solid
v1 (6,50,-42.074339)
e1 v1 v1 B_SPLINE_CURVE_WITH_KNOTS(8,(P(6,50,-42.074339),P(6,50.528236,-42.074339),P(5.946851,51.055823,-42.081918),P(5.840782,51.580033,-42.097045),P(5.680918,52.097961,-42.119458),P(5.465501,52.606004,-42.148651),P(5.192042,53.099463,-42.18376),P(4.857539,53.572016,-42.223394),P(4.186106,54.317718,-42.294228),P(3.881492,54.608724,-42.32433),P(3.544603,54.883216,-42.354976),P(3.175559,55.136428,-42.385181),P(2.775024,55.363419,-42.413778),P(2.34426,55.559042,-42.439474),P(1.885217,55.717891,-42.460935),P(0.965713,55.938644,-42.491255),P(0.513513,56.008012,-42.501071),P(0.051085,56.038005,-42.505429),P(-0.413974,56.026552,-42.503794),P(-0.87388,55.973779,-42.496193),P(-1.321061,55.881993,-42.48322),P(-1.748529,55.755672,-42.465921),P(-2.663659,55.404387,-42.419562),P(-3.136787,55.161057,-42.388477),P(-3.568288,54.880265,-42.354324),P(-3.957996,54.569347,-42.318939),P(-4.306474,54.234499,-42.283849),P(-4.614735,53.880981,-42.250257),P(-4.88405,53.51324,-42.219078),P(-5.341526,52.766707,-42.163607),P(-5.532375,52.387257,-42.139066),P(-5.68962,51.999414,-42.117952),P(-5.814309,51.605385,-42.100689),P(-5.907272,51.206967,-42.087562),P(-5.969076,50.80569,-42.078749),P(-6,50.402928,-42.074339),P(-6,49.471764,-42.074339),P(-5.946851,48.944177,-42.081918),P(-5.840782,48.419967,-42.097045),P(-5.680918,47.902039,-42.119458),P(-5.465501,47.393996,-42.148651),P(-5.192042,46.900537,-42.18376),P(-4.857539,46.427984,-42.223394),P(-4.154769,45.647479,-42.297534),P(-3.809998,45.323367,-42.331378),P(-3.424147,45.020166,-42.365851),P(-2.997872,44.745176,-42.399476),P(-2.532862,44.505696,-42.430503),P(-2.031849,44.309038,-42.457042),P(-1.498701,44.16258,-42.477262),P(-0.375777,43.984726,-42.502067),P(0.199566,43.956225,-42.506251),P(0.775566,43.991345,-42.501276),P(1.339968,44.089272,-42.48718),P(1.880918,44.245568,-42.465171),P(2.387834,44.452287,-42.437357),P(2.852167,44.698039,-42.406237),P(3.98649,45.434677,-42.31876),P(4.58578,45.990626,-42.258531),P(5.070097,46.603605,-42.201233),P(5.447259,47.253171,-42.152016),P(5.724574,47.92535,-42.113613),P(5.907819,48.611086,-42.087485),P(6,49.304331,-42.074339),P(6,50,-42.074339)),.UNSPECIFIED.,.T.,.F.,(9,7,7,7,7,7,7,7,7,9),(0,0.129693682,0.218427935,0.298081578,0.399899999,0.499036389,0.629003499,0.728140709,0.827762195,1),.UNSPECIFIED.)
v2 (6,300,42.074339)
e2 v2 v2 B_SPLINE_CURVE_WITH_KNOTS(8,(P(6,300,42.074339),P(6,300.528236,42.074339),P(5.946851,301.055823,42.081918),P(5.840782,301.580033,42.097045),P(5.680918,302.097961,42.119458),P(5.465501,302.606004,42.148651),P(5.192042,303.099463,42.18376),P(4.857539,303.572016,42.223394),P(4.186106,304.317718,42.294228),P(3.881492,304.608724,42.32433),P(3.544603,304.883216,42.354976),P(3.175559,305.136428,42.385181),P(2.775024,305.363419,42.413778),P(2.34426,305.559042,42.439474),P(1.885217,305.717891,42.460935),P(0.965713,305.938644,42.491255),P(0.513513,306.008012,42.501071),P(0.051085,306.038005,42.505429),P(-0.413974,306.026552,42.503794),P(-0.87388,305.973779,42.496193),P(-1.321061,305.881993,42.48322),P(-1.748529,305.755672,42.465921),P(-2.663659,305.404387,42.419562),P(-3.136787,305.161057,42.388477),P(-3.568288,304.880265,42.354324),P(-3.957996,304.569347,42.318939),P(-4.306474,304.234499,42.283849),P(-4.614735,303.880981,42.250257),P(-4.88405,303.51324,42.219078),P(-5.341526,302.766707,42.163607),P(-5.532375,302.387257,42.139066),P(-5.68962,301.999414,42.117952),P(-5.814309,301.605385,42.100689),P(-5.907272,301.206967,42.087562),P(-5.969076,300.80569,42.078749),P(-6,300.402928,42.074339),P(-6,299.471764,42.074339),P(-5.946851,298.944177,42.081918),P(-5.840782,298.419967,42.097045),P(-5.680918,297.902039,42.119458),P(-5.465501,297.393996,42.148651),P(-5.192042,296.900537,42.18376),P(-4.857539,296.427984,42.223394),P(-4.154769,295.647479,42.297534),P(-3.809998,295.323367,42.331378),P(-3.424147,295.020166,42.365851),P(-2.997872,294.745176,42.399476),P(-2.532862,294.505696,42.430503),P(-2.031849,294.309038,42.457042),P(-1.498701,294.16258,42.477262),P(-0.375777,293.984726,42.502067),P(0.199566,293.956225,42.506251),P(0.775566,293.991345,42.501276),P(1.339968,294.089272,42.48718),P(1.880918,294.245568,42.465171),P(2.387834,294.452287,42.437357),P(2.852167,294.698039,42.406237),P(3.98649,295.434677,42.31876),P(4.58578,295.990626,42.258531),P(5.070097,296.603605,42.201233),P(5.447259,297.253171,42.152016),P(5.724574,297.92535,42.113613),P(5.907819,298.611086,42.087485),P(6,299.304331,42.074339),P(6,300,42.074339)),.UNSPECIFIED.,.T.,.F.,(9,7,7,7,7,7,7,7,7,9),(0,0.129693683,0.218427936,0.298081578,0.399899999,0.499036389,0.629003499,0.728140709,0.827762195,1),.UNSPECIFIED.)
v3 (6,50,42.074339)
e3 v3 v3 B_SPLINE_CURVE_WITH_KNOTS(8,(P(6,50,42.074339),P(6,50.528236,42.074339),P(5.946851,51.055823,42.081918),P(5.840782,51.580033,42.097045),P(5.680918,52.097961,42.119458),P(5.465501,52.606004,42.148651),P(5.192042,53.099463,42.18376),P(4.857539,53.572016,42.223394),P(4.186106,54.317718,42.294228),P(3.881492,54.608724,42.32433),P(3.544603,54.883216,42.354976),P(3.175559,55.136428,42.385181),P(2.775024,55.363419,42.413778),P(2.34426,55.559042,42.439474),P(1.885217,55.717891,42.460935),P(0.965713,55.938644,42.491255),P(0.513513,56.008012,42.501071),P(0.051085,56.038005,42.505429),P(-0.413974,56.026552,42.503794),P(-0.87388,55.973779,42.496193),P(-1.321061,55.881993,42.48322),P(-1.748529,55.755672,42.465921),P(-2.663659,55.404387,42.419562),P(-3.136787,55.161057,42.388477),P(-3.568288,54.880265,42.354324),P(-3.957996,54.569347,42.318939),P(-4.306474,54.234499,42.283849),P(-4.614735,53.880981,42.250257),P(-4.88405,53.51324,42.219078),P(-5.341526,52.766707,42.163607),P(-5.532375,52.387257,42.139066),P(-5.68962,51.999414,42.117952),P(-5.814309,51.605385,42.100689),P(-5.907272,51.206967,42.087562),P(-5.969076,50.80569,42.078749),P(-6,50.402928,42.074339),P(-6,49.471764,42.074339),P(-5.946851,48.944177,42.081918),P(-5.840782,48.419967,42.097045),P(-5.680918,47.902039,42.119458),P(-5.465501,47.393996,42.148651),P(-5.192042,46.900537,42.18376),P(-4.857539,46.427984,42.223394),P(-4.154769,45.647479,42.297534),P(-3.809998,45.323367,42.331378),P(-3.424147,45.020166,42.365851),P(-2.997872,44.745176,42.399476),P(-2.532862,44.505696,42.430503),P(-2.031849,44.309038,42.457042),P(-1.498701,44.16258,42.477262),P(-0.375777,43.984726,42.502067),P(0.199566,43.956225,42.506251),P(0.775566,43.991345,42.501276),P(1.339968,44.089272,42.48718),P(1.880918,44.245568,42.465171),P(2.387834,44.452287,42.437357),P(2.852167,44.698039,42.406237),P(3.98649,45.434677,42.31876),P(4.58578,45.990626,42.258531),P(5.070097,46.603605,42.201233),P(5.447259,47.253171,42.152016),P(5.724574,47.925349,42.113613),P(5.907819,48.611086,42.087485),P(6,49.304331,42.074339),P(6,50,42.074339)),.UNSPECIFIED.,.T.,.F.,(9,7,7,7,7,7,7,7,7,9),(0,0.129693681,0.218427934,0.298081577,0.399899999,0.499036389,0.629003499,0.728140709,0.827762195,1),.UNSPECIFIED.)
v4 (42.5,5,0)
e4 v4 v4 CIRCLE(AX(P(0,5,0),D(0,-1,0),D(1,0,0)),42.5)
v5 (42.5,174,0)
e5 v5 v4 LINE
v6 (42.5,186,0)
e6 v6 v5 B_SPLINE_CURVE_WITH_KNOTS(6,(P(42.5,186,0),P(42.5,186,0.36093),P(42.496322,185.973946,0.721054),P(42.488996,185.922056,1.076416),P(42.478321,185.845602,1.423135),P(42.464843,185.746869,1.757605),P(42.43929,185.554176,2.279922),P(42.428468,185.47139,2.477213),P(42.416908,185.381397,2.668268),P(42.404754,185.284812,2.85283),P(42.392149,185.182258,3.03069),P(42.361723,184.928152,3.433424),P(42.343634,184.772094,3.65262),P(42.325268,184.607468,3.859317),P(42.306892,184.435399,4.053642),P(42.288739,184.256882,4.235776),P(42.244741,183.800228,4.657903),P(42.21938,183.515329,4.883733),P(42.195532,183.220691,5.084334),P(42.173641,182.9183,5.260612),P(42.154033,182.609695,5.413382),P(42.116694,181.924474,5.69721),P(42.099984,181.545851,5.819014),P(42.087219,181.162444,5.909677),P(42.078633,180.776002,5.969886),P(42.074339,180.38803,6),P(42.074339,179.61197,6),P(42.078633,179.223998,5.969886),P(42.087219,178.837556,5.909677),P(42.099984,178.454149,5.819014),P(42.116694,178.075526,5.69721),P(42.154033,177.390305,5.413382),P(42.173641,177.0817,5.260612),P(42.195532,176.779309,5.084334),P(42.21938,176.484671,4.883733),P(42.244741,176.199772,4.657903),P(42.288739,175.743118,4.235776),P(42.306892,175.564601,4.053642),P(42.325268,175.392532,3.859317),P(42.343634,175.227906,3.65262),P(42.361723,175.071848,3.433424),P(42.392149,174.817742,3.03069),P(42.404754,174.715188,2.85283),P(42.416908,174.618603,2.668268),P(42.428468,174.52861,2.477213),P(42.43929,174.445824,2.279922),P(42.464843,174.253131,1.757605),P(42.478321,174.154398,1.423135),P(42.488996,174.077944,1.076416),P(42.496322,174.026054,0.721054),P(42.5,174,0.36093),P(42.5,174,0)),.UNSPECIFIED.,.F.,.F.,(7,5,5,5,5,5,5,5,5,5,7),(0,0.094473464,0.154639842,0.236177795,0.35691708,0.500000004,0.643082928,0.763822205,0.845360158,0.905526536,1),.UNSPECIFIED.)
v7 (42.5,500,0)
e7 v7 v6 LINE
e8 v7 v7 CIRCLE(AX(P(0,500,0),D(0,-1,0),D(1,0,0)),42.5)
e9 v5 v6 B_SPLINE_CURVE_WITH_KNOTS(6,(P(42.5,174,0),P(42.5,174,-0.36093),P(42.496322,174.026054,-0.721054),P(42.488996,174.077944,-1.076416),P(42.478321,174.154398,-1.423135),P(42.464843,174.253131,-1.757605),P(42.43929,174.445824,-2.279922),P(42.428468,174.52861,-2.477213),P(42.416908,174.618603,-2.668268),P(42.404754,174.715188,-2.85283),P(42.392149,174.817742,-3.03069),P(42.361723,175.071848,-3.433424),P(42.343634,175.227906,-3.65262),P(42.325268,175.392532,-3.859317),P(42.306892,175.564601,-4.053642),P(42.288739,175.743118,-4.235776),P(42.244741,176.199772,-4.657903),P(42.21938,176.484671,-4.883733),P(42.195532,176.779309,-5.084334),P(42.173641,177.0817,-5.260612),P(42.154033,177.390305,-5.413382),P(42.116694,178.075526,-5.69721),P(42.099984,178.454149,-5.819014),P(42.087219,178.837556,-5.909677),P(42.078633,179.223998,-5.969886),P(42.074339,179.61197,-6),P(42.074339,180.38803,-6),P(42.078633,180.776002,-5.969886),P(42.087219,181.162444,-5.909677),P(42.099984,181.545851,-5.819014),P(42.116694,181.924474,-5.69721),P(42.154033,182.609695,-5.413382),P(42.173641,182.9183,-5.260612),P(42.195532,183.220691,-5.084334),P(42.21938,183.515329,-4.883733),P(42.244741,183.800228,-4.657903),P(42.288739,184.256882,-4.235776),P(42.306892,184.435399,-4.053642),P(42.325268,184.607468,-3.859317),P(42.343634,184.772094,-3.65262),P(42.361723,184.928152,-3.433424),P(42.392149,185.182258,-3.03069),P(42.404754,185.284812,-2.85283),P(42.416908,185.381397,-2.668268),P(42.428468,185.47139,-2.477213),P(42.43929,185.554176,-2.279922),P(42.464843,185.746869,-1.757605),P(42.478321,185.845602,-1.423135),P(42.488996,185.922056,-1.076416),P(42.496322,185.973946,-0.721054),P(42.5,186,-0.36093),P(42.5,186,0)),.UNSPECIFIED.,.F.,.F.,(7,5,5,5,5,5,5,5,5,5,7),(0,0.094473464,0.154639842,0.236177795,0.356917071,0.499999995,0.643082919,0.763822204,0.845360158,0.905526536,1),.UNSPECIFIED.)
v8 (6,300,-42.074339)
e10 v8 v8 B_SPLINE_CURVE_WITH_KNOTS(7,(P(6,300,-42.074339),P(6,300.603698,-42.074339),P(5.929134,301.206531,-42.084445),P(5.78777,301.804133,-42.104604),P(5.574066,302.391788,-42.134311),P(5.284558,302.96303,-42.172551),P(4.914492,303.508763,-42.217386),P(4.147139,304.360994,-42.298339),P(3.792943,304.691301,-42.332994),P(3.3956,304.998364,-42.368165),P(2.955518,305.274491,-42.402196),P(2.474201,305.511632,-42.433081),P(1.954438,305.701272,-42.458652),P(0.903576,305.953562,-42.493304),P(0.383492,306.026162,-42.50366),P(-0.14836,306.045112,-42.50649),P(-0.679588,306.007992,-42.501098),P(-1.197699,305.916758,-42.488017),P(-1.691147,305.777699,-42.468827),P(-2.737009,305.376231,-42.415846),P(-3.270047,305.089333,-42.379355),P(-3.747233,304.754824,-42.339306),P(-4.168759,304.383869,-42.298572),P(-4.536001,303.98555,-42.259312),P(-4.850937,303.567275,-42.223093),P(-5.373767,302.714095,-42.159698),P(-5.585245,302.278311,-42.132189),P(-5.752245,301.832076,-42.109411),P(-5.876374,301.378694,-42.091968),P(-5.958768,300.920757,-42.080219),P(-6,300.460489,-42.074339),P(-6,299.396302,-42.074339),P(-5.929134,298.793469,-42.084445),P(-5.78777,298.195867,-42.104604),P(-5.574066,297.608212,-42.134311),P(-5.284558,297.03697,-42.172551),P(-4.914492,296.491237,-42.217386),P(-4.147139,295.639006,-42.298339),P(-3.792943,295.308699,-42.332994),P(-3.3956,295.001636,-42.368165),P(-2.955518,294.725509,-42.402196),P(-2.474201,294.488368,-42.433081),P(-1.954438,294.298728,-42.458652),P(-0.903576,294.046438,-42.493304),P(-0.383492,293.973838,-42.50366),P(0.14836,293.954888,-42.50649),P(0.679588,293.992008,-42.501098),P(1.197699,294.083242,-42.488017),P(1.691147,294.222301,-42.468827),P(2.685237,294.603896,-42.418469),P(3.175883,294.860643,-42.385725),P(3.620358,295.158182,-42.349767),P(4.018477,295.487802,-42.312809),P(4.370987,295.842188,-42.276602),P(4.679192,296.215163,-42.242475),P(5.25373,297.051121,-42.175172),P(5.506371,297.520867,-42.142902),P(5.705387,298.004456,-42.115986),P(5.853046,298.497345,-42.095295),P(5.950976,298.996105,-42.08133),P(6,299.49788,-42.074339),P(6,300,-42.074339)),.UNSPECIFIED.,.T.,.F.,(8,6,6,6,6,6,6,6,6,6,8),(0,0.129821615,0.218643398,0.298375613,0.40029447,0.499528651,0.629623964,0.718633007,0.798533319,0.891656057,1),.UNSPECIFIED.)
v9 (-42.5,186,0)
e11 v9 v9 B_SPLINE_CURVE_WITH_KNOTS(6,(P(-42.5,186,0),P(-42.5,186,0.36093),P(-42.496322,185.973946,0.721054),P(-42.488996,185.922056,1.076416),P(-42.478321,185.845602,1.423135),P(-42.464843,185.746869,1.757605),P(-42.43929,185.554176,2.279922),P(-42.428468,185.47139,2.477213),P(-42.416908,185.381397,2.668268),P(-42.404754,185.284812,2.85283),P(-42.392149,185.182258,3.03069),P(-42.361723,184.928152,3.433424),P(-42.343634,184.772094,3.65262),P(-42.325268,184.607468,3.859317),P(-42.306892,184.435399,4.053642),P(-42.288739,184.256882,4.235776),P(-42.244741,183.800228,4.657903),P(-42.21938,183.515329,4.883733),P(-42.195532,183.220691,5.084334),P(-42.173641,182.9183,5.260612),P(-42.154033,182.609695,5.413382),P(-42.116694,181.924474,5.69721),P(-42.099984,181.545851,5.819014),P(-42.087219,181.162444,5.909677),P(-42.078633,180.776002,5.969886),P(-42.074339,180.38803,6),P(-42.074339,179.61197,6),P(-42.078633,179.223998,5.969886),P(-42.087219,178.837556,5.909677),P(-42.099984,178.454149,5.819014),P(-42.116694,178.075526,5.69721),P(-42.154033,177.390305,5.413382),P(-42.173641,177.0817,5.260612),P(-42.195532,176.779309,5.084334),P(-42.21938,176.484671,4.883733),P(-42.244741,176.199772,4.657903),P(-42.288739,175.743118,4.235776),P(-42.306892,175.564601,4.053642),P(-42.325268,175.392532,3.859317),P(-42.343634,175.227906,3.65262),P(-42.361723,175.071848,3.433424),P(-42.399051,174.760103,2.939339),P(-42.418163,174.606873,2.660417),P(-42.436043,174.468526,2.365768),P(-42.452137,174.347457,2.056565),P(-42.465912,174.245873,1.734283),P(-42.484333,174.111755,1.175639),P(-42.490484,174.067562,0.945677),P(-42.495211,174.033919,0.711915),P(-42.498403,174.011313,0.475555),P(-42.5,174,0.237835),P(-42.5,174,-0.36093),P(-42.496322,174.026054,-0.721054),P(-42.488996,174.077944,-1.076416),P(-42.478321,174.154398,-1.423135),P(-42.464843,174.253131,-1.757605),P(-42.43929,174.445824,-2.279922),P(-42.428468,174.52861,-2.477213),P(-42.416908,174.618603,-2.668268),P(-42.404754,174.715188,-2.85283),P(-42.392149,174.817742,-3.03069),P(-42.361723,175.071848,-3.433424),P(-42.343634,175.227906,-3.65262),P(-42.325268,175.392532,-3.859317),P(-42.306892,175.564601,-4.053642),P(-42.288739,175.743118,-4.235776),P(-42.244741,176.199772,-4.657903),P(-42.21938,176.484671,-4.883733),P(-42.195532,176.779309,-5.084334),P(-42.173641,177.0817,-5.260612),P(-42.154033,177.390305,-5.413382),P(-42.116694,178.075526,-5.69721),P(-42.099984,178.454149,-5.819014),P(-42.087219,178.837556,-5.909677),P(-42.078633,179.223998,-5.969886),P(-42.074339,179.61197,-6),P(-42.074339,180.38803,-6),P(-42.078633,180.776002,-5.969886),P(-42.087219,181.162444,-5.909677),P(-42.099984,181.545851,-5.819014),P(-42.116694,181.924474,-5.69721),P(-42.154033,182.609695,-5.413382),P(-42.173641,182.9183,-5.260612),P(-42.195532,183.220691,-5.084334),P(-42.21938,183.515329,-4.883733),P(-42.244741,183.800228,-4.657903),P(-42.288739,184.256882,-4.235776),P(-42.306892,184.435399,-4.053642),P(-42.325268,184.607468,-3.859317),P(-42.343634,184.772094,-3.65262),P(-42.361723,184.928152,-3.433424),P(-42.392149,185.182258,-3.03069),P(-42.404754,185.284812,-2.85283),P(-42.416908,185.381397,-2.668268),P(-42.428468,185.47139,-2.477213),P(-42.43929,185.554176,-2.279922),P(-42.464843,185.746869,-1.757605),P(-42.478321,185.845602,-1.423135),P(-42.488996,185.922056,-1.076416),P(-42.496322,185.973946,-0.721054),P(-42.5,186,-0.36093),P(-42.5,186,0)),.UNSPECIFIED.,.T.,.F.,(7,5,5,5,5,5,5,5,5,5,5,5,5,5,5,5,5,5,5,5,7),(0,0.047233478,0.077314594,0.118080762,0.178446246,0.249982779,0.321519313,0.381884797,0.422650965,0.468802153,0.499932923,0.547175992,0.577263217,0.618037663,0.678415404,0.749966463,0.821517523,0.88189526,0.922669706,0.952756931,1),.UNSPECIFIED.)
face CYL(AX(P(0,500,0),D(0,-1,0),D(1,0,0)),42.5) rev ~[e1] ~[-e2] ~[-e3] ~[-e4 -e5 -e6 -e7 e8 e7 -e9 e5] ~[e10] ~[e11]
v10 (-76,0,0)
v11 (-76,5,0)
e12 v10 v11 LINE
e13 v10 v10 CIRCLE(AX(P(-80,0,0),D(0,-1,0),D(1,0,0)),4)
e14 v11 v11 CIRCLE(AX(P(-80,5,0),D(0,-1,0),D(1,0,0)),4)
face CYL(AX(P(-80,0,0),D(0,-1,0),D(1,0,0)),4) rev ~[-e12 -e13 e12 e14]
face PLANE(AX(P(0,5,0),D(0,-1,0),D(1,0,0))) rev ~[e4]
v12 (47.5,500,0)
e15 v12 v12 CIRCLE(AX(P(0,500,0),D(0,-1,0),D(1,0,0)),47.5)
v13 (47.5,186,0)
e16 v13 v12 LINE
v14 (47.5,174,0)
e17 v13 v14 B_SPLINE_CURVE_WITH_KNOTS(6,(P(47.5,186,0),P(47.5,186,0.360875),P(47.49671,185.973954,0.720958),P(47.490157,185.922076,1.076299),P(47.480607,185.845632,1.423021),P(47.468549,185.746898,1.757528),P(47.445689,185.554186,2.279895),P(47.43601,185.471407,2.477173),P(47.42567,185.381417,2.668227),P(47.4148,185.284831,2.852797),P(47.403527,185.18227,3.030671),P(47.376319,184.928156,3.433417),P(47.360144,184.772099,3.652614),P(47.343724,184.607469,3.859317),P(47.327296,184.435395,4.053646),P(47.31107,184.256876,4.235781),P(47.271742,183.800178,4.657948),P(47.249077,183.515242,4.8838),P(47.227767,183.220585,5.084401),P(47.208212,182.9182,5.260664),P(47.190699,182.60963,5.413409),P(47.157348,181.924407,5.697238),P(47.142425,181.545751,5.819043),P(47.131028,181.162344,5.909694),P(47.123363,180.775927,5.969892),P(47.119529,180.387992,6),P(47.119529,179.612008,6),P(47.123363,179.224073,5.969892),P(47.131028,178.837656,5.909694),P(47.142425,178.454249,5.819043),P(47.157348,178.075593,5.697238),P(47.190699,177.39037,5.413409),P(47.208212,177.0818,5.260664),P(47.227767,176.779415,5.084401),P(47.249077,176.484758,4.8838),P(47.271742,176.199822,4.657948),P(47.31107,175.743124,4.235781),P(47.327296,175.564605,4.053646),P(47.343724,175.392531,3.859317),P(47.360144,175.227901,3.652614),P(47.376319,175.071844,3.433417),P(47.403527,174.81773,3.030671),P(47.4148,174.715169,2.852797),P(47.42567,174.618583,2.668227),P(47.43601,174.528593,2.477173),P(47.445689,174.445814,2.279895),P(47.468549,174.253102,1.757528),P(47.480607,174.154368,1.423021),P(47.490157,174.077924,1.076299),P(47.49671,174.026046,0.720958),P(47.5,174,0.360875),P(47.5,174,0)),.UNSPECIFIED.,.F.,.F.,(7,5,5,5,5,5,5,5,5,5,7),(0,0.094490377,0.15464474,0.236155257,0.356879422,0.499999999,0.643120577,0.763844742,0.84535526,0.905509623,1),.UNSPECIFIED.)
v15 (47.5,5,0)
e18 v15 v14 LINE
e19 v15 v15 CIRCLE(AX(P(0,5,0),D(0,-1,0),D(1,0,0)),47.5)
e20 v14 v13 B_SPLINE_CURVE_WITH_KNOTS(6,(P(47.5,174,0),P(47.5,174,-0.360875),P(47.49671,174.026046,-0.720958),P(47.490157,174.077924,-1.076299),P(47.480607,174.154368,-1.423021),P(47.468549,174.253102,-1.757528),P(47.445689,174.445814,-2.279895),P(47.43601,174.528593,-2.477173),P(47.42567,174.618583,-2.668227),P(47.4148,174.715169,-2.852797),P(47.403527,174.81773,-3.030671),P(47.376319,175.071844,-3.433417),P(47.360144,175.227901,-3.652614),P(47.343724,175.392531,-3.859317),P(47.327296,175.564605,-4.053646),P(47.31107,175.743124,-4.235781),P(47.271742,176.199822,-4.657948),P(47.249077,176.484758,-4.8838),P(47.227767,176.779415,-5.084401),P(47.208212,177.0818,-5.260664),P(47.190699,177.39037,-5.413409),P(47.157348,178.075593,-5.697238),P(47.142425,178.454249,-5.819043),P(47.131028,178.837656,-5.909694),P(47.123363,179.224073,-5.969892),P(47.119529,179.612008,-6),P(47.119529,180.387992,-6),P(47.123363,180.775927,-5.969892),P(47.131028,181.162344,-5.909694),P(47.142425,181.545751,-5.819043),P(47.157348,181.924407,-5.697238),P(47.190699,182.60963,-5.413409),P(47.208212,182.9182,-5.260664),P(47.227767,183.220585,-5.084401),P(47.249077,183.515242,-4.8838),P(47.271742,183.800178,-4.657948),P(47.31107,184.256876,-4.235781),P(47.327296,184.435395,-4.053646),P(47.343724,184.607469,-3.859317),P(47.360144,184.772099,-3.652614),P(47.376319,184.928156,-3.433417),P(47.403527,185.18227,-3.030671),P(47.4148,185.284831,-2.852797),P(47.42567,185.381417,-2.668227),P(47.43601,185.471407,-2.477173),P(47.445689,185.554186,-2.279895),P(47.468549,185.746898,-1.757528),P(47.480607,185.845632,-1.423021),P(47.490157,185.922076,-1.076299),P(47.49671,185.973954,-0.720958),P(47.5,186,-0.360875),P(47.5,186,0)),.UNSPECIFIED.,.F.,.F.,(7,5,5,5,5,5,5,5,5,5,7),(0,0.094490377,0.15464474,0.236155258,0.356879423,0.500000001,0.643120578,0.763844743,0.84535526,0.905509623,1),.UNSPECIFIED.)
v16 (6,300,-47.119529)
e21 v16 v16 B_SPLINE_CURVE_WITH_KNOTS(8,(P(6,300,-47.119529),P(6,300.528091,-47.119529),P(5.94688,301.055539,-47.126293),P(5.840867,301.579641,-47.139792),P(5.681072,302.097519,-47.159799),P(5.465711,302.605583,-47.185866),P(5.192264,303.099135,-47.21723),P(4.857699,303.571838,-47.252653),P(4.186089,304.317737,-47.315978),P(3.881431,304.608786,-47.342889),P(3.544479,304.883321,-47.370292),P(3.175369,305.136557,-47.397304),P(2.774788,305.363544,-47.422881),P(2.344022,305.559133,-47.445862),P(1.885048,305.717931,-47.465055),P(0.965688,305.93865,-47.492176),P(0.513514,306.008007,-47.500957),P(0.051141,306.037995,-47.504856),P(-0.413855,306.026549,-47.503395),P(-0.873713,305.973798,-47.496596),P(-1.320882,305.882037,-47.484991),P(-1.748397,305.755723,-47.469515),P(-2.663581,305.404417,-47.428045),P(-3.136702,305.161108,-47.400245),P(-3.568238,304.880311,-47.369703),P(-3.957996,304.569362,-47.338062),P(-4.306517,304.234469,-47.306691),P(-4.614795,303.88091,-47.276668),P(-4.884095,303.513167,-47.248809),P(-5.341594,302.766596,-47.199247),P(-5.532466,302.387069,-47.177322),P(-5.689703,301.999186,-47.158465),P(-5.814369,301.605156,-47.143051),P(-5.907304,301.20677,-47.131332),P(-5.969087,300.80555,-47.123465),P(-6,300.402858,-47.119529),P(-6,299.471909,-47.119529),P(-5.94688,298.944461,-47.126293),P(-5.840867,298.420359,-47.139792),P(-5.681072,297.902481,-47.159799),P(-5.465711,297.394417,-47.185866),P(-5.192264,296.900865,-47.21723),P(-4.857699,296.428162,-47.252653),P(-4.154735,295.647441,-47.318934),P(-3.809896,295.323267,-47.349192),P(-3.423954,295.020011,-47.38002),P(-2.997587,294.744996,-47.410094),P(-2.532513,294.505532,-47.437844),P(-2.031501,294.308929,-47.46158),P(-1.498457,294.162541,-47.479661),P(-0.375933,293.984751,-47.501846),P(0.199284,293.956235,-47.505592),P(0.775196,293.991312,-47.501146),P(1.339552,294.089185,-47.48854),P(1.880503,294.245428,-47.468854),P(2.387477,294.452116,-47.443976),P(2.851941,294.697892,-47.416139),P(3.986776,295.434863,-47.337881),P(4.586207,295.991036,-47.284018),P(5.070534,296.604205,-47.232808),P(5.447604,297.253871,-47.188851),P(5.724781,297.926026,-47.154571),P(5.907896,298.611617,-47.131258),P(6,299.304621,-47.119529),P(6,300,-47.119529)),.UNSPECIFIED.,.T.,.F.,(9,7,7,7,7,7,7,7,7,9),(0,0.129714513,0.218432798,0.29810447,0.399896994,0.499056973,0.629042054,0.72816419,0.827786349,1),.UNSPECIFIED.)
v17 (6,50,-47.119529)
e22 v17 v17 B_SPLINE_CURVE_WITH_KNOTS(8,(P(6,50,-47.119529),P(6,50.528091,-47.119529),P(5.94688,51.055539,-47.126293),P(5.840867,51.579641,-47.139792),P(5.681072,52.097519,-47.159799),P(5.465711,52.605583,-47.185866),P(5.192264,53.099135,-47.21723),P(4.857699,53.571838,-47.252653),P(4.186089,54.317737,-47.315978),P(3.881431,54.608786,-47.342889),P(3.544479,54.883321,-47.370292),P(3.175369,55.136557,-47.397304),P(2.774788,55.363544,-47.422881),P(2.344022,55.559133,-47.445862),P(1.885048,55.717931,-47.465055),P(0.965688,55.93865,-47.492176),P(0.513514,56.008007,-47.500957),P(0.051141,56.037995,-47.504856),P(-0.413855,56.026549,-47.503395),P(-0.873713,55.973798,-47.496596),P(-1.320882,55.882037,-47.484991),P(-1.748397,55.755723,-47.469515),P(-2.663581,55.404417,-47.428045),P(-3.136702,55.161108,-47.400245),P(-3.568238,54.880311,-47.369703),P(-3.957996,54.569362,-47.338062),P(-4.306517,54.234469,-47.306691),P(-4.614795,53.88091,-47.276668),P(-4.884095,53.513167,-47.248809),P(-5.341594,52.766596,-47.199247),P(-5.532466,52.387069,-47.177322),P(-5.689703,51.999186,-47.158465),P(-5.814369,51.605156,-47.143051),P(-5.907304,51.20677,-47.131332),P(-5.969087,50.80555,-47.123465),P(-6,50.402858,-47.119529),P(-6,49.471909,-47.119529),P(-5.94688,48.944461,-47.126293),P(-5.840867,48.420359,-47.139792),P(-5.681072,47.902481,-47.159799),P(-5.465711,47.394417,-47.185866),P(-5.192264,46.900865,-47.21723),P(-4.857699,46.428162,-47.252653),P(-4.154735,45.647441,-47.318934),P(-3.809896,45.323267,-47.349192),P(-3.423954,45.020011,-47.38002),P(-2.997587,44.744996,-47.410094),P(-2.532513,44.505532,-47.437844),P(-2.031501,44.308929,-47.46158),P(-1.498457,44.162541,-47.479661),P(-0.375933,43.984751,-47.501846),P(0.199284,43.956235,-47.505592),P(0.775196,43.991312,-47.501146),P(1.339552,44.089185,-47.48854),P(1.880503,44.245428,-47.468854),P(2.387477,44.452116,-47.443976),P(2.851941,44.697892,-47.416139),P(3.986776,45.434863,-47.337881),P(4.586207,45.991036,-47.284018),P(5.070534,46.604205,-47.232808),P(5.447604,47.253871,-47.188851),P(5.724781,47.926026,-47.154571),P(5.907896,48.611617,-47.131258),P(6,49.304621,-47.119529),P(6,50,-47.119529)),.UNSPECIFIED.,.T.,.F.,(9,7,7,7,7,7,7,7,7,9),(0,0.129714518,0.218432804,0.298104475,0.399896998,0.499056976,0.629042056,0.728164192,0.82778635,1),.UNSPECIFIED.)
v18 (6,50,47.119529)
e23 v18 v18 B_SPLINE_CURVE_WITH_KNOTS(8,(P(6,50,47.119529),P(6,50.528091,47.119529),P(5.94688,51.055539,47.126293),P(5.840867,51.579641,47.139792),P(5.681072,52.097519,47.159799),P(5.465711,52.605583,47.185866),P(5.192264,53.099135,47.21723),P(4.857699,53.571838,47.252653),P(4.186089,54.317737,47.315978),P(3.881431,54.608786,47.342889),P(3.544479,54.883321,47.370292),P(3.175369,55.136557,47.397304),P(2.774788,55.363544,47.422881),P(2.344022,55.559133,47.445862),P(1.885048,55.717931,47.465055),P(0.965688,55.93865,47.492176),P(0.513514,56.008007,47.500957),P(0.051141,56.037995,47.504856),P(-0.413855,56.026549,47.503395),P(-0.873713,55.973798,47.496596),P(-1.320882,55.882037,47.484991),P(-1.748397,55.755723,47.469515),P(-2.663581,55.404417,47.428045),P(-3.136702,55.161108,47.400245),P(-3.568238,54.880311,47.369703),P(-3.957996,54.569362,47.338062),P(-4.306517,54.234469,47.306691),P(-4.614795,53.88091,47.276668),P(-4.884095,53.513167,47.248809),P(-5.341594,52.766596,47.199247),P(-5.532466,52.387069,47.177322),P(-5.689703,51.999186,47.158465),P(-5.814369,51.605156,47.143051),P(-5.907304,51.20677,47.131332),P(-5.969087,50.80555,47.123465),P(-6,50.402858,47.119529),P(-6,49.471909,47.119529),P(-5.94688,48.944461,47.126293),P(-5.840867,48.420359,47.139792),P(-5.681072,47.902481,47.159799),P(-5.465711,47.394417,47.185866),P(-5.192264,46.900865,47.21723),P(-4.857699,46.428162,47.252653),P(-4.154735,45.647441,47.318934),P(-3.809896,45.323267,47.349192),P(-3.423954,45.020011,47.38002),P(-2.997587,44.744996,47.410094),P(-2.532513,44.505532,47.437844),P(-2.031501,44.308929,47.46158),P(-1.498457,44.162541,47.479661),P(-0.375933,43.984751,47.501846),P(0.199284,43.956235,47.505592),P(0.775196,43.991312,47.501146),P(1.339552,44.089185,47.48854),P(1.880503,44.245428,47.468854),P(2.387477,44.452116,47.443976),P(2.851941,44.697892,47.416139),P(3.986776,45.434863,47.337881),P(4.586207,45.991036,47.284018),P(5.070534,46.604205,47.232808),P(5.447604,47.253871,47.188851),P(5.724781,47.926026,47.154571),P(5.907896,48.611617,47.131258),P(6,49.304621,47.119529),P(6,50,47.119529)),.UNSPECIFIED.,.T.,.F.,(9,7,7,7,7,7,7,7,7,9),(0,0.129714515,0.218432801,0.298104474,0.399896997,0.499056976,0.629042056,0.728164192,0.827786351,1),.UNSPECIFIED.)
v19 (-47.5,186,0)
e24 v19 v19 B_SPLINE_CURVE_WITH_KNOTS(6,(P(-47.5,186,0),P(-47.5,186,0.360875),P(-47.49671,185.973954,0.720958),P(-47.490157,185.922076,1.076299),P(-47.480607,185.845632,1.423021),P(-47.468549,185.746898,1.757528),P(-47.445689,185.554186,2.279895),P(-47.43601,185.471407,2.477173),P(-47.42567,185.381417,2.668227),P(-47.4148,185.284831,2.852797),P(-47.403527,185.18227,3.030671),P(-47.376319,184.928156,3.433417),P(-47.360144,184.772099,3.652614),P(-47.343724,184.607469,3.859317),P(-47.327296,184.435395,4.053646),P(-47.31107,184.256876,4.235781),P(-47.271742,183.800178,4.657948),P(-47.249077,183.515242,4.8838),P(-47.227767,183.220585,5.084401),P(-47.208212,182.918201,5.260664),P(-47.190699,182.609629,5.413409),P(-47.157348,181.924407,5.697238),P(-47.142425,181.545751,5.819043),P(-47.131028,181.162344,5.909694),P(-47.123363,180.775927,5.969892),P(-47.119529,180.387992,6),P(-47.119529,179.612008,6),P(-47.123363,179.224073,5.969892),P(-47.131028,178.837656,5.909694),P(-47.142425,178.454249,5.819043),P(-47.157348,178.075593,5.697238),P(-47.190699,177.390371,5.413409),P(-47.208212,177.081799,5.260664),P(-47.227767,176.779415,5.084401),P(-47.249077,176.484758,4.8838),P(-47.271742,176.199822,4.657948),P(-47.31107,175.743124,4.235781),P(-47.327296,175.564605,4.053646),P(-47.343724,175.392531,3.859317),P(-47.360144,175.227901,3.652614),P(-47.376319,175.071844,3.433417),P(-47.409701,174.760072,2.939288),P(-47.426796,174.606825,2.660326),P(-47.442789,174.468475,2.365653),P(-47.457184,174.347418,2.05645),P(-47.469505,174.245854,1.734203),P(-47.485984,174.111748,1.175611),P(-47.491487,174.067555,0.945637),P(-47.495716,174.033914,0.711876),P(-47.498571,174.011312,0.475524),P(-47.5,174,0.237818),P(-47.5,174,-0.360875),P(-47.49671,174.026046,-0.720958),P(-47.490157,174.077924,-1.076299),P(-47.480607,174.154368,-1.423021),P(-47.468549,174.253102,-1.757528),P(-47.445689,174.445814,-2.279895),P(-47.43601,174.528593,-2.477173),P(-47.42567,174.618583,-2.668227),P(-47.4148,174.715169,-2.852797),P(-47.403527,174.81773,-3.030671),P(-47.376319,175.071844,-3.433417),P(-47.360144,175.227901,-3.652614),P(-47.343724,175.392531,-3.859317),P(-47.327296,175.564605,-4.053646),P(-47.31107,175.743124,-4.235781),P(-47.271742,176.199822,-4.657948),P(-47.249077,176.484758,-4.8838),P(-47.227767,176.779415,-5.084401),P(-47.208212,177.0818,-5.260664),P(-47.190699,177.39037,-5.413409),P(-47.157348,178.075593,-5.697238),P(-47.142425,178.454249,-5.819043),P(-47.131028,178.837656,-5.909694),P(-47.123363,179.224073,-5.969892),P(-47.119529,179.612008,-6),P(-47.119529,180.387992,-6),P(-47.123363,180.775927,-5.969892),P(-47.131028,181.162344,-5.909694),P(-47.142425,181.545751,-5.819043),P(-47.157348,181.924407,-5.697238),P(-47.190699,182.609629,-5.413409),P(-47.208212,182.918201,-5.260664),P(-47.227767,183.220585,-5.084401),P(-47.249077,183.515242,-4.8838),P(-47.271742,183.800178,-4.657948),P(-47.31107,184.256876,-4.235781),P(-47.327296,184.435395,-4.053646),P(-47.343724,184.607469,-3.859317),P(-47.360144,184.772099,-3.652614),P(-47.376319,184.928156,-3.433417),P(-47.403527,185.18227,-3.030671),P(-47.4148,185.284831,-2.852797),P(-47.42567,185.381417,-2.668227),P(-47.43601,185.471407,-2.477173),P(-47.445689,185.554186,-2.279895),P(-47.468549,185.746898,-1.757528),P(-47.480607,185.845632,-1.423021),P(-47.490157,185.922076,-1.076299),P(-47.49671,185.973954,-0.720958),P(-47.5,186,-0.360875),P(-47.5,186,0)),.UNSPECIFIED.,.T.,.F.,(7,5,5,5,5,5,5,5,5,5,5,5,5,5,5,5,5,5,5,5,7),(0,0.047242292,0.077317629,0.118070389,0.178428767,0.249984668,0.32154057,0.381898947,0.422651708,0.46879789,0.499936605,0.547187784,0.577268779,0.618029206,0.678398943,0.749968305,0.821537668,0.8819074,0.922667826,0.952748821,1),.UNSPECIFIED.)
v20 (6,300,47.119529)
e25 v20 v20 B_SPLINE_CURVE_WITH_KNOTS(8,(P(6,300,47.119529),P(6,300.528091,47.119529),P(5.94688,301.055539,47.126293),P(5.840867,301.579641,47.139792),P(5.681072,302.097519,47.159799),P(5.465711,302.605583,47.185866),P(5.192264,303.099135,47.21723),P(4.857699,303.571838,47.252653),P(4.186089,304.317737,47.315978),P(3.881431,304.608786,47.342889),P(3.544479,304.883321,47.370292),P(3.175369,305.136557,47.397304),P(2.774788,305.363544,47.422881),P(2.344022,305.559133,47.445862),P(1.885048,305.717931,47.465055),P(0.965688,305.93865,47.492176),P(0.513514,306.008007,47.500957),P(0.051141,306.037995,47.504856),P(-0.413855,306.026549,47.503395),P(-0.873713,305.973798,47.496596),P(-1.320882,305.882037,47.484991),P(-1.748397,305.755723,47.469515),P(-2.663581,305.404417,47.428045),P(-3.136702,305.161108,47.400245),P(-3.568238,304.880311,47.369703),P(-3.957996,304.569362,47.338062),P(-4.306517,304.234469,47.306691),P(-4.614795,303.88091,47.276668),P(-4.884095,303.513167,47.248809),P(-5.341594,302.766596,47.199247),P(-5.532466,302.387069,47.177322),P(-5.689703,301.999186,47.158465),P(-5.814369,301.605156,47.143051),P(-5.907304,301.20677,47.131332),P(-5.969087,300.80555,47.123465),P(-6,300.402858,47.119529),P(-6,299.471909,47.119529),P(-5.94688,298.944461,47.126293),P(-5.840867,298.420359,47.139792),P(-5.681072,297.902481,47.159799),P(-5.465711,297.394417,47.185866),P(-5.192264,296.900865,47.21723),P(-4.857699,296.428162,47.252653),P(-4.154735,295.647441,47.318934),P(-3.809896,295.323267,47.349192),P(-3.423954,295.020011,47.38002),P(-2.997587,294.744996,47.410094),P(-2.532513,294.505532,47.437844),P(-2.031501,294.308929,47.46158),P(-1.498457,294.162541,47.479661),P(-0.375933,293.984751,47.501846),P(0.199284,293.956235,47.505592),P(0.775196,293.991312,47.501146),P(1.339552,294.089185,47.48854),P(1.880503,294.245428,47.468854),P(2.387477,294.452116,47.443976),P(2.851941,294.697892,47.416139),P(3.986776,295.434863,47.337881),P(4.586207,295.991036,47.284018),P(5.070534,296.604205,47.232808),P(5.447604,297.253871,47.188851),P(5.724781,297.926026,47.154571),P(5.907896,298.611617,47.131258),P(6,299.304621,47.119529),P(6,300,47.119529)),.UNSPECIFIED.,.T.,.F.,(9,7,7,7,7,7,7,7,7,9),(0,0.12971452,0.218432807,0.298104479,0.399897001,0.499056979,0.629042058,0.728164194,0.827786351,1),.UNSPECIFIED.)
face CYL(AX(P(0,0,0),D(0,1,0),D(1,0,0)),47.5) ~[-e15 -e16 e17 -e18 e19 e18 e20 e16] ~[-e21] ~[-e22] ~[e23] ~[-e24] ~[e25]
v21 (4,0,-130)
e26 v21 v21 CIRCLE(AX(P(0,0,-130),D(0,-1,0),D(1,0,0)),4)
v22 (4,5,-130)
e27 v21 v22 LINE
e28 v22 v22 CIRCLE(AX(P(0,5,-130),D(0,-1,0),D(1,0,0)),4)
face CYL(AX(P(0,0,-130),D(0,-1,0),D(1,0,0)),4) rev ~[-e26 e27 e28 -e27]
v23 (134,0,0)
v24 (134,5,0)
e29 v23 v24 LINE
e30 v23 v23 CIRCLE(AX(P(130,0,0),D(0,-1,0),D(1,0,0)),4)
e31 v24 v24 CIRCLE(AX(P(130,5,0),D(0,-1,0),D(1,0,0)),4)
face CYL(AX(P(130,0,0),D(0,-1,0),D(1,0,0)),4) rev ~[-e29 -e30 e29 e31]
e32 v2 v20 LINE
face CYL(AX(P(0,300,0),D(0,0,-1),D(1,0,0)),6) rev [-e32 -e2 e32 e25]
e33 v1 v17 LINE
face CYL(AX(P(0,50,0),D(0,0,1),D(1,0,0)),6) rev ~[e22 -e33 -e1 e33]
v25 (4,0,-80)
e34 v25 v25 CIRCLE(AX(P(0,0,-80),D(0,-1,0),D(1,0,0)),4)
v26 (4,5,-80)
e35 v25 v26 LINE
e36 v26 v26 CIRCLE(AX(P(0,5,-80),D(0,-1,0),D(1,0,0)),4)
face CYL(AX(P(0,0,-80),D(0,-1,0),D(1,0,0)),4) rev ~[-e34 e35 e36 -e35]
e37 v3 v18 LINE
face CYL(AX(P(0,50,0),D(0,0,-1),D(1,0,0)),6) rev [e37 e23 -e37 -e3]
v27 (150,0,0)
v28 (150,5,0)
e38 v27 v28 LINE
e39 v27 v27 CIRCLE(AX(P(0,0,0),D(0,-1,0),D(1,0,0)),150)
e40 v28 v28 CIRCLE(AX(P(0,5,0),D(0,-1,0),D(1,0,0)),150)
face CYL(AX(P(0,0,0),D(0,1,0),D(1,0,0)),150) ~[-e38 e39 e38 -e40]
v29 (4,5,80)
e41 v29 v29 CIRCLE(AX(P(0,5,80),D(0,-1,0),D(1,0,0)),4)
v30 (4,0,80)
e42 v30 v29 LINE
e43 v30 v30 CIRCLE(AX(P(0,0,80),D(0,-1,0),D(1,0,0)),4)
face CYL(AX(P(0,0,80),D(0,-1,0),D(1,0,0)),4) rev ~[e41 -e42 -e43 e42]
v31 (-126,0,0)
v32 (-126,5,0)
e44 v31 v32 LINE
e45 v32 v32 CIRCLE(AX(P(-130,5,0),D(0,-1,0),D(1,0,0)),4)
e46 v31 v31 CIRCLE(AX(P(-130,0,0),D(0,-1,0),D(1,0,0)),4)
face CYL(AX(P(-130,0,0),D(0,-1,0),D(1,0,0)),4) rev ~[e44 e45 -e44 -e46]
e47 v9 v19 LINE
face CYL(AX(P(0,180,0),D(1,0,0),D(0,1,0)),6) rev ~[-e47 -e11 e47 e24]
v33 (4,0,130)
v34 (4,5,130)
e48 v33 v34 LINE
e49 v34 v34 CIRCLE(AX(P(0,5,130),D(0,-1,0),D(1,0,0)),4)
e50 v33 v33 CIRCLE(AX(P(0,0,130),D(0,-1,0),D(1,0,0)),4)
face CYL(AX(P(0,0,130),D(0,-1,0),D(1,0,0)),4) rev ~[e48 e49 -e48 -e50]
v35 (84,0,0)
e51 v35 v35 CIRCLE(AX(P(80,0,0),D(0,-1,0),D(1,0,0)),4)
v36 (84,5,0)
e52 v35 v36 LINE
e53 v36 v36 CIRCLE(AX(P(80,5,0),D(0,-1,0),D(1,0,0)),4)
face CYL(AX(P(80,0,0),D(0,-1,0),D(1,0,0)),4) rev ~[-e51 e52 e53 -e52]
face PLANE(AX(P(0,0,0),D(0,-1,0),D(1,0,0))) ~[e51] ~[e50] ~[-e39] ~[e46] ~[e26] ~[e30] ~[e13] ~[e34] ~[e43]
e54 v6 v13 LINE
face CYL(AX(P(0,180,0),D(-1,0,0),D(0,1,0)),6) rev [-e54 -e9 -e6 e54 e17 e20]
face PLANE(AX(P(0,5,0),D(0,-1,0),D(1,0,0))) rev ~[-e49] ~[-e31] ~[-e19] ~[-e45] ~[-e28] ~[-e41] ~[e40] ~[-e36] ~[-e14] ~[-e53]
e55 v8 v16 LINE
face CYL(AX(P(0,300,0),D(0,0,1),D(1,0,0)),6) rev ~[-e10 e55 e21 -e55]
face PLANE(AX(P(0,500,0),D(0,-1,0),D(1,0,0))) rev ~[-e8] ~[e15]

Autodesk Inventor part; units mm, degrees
ref_plane "YZ Plane" through (0, 0, 0) normal (1, 0, 0) x (0, 1, 0)
ref_plane "XZ Plane" through (0, 0, 0) normal (0, 1, 0) x (-1, 0, 0)
ref_plane "XY Plane" through (0, 0, 0) normal (0, 0, 1) x (1, 0, 0)
sketch "スケッチ1" plane through (0, 0, 0) normal (0, 0, 1) x (1, 0, 0)
  line L0 (0, 0) -> (150, 0)
  line L1 (150, 0) -> (150, 5)
  line L2 (150, 5) -> (0, 5)
  line L3 (0, 5) -> (0, 0)
  line L4 (42.5, 0) -> (47.5, 0)
  line L5 (47.5, 0) -> (47.5, 500)
  line L6 (47.5, 500) -> (42.5, 500)
  line L7 (42.5, 500) -> (42.5, 0)
  dimension "d1" = 47.5
  dimension "d2" = 150
  dimension "d3" = 5
  dimension "d4" = 5
  dimension "d5" = 500
revolve "回転1" add sketch "スケッチ1" angle 360 about axis through (0, 5, 0) along (0, -1, 0)
sketch "スケッチ2" plane through (0, 0, 0) normal (0, -1, 0) x (1, 0, 0)
  circle A0 centre (0, 0) radius 150 projected
  circle A1 centre (0, 130) radius 4
  circle A2 centre (0, 80) radius 4
  circle A3 centre (-130, 0) radius 4
  circle A4 centre (-80, 0) radius 4
  circle A5 centre (0, -130) radius 4
  circle A6 centre (0, -80) radius 4
  circle A7 centre (130, 0) radius 4
  circle A8 centre (80, 0) radius 4
  dimension "d7" = 8
  dimension "d8" = 130
  dimension "d9" = 80
  dimension "d12" = 360
extrude "押し出し1" cut sketch "スケッチ2" against normal through all keep common part
sketch "スケッチ3" plane through (0, 0, 0) normal (0, 0, 1) x (1, 0, 0)
  circle A0 centre (0, 50) radius 6
  circle A1 centre (0, 300) radius 6
  line L0 (-150, 0) -> (150, 0) projected
  point P0 (0, 0)
  dimension "d16" = 12
  dimension "d17" = 50
  dimension "d18" = 300
extrude "押し出し2" cut sketch "スケッチ3" along normal through all both and the other way through all
sketch "スケッチ4" plane through (0, 0, 0) normal (1, 0, 0) x (0, 1, 0)
  circle A0 centre (180, 0) radius 6
  line L0 (0, 4) -> (0, -4) projected
  point P0 (0, 0)
  dimension "d21" = 12
  dimension "d22" = 180
extrude "押し出し3" cut sketch "スケッチ4" along normal through all both and the other way through all
properties part number "Pole Base"
